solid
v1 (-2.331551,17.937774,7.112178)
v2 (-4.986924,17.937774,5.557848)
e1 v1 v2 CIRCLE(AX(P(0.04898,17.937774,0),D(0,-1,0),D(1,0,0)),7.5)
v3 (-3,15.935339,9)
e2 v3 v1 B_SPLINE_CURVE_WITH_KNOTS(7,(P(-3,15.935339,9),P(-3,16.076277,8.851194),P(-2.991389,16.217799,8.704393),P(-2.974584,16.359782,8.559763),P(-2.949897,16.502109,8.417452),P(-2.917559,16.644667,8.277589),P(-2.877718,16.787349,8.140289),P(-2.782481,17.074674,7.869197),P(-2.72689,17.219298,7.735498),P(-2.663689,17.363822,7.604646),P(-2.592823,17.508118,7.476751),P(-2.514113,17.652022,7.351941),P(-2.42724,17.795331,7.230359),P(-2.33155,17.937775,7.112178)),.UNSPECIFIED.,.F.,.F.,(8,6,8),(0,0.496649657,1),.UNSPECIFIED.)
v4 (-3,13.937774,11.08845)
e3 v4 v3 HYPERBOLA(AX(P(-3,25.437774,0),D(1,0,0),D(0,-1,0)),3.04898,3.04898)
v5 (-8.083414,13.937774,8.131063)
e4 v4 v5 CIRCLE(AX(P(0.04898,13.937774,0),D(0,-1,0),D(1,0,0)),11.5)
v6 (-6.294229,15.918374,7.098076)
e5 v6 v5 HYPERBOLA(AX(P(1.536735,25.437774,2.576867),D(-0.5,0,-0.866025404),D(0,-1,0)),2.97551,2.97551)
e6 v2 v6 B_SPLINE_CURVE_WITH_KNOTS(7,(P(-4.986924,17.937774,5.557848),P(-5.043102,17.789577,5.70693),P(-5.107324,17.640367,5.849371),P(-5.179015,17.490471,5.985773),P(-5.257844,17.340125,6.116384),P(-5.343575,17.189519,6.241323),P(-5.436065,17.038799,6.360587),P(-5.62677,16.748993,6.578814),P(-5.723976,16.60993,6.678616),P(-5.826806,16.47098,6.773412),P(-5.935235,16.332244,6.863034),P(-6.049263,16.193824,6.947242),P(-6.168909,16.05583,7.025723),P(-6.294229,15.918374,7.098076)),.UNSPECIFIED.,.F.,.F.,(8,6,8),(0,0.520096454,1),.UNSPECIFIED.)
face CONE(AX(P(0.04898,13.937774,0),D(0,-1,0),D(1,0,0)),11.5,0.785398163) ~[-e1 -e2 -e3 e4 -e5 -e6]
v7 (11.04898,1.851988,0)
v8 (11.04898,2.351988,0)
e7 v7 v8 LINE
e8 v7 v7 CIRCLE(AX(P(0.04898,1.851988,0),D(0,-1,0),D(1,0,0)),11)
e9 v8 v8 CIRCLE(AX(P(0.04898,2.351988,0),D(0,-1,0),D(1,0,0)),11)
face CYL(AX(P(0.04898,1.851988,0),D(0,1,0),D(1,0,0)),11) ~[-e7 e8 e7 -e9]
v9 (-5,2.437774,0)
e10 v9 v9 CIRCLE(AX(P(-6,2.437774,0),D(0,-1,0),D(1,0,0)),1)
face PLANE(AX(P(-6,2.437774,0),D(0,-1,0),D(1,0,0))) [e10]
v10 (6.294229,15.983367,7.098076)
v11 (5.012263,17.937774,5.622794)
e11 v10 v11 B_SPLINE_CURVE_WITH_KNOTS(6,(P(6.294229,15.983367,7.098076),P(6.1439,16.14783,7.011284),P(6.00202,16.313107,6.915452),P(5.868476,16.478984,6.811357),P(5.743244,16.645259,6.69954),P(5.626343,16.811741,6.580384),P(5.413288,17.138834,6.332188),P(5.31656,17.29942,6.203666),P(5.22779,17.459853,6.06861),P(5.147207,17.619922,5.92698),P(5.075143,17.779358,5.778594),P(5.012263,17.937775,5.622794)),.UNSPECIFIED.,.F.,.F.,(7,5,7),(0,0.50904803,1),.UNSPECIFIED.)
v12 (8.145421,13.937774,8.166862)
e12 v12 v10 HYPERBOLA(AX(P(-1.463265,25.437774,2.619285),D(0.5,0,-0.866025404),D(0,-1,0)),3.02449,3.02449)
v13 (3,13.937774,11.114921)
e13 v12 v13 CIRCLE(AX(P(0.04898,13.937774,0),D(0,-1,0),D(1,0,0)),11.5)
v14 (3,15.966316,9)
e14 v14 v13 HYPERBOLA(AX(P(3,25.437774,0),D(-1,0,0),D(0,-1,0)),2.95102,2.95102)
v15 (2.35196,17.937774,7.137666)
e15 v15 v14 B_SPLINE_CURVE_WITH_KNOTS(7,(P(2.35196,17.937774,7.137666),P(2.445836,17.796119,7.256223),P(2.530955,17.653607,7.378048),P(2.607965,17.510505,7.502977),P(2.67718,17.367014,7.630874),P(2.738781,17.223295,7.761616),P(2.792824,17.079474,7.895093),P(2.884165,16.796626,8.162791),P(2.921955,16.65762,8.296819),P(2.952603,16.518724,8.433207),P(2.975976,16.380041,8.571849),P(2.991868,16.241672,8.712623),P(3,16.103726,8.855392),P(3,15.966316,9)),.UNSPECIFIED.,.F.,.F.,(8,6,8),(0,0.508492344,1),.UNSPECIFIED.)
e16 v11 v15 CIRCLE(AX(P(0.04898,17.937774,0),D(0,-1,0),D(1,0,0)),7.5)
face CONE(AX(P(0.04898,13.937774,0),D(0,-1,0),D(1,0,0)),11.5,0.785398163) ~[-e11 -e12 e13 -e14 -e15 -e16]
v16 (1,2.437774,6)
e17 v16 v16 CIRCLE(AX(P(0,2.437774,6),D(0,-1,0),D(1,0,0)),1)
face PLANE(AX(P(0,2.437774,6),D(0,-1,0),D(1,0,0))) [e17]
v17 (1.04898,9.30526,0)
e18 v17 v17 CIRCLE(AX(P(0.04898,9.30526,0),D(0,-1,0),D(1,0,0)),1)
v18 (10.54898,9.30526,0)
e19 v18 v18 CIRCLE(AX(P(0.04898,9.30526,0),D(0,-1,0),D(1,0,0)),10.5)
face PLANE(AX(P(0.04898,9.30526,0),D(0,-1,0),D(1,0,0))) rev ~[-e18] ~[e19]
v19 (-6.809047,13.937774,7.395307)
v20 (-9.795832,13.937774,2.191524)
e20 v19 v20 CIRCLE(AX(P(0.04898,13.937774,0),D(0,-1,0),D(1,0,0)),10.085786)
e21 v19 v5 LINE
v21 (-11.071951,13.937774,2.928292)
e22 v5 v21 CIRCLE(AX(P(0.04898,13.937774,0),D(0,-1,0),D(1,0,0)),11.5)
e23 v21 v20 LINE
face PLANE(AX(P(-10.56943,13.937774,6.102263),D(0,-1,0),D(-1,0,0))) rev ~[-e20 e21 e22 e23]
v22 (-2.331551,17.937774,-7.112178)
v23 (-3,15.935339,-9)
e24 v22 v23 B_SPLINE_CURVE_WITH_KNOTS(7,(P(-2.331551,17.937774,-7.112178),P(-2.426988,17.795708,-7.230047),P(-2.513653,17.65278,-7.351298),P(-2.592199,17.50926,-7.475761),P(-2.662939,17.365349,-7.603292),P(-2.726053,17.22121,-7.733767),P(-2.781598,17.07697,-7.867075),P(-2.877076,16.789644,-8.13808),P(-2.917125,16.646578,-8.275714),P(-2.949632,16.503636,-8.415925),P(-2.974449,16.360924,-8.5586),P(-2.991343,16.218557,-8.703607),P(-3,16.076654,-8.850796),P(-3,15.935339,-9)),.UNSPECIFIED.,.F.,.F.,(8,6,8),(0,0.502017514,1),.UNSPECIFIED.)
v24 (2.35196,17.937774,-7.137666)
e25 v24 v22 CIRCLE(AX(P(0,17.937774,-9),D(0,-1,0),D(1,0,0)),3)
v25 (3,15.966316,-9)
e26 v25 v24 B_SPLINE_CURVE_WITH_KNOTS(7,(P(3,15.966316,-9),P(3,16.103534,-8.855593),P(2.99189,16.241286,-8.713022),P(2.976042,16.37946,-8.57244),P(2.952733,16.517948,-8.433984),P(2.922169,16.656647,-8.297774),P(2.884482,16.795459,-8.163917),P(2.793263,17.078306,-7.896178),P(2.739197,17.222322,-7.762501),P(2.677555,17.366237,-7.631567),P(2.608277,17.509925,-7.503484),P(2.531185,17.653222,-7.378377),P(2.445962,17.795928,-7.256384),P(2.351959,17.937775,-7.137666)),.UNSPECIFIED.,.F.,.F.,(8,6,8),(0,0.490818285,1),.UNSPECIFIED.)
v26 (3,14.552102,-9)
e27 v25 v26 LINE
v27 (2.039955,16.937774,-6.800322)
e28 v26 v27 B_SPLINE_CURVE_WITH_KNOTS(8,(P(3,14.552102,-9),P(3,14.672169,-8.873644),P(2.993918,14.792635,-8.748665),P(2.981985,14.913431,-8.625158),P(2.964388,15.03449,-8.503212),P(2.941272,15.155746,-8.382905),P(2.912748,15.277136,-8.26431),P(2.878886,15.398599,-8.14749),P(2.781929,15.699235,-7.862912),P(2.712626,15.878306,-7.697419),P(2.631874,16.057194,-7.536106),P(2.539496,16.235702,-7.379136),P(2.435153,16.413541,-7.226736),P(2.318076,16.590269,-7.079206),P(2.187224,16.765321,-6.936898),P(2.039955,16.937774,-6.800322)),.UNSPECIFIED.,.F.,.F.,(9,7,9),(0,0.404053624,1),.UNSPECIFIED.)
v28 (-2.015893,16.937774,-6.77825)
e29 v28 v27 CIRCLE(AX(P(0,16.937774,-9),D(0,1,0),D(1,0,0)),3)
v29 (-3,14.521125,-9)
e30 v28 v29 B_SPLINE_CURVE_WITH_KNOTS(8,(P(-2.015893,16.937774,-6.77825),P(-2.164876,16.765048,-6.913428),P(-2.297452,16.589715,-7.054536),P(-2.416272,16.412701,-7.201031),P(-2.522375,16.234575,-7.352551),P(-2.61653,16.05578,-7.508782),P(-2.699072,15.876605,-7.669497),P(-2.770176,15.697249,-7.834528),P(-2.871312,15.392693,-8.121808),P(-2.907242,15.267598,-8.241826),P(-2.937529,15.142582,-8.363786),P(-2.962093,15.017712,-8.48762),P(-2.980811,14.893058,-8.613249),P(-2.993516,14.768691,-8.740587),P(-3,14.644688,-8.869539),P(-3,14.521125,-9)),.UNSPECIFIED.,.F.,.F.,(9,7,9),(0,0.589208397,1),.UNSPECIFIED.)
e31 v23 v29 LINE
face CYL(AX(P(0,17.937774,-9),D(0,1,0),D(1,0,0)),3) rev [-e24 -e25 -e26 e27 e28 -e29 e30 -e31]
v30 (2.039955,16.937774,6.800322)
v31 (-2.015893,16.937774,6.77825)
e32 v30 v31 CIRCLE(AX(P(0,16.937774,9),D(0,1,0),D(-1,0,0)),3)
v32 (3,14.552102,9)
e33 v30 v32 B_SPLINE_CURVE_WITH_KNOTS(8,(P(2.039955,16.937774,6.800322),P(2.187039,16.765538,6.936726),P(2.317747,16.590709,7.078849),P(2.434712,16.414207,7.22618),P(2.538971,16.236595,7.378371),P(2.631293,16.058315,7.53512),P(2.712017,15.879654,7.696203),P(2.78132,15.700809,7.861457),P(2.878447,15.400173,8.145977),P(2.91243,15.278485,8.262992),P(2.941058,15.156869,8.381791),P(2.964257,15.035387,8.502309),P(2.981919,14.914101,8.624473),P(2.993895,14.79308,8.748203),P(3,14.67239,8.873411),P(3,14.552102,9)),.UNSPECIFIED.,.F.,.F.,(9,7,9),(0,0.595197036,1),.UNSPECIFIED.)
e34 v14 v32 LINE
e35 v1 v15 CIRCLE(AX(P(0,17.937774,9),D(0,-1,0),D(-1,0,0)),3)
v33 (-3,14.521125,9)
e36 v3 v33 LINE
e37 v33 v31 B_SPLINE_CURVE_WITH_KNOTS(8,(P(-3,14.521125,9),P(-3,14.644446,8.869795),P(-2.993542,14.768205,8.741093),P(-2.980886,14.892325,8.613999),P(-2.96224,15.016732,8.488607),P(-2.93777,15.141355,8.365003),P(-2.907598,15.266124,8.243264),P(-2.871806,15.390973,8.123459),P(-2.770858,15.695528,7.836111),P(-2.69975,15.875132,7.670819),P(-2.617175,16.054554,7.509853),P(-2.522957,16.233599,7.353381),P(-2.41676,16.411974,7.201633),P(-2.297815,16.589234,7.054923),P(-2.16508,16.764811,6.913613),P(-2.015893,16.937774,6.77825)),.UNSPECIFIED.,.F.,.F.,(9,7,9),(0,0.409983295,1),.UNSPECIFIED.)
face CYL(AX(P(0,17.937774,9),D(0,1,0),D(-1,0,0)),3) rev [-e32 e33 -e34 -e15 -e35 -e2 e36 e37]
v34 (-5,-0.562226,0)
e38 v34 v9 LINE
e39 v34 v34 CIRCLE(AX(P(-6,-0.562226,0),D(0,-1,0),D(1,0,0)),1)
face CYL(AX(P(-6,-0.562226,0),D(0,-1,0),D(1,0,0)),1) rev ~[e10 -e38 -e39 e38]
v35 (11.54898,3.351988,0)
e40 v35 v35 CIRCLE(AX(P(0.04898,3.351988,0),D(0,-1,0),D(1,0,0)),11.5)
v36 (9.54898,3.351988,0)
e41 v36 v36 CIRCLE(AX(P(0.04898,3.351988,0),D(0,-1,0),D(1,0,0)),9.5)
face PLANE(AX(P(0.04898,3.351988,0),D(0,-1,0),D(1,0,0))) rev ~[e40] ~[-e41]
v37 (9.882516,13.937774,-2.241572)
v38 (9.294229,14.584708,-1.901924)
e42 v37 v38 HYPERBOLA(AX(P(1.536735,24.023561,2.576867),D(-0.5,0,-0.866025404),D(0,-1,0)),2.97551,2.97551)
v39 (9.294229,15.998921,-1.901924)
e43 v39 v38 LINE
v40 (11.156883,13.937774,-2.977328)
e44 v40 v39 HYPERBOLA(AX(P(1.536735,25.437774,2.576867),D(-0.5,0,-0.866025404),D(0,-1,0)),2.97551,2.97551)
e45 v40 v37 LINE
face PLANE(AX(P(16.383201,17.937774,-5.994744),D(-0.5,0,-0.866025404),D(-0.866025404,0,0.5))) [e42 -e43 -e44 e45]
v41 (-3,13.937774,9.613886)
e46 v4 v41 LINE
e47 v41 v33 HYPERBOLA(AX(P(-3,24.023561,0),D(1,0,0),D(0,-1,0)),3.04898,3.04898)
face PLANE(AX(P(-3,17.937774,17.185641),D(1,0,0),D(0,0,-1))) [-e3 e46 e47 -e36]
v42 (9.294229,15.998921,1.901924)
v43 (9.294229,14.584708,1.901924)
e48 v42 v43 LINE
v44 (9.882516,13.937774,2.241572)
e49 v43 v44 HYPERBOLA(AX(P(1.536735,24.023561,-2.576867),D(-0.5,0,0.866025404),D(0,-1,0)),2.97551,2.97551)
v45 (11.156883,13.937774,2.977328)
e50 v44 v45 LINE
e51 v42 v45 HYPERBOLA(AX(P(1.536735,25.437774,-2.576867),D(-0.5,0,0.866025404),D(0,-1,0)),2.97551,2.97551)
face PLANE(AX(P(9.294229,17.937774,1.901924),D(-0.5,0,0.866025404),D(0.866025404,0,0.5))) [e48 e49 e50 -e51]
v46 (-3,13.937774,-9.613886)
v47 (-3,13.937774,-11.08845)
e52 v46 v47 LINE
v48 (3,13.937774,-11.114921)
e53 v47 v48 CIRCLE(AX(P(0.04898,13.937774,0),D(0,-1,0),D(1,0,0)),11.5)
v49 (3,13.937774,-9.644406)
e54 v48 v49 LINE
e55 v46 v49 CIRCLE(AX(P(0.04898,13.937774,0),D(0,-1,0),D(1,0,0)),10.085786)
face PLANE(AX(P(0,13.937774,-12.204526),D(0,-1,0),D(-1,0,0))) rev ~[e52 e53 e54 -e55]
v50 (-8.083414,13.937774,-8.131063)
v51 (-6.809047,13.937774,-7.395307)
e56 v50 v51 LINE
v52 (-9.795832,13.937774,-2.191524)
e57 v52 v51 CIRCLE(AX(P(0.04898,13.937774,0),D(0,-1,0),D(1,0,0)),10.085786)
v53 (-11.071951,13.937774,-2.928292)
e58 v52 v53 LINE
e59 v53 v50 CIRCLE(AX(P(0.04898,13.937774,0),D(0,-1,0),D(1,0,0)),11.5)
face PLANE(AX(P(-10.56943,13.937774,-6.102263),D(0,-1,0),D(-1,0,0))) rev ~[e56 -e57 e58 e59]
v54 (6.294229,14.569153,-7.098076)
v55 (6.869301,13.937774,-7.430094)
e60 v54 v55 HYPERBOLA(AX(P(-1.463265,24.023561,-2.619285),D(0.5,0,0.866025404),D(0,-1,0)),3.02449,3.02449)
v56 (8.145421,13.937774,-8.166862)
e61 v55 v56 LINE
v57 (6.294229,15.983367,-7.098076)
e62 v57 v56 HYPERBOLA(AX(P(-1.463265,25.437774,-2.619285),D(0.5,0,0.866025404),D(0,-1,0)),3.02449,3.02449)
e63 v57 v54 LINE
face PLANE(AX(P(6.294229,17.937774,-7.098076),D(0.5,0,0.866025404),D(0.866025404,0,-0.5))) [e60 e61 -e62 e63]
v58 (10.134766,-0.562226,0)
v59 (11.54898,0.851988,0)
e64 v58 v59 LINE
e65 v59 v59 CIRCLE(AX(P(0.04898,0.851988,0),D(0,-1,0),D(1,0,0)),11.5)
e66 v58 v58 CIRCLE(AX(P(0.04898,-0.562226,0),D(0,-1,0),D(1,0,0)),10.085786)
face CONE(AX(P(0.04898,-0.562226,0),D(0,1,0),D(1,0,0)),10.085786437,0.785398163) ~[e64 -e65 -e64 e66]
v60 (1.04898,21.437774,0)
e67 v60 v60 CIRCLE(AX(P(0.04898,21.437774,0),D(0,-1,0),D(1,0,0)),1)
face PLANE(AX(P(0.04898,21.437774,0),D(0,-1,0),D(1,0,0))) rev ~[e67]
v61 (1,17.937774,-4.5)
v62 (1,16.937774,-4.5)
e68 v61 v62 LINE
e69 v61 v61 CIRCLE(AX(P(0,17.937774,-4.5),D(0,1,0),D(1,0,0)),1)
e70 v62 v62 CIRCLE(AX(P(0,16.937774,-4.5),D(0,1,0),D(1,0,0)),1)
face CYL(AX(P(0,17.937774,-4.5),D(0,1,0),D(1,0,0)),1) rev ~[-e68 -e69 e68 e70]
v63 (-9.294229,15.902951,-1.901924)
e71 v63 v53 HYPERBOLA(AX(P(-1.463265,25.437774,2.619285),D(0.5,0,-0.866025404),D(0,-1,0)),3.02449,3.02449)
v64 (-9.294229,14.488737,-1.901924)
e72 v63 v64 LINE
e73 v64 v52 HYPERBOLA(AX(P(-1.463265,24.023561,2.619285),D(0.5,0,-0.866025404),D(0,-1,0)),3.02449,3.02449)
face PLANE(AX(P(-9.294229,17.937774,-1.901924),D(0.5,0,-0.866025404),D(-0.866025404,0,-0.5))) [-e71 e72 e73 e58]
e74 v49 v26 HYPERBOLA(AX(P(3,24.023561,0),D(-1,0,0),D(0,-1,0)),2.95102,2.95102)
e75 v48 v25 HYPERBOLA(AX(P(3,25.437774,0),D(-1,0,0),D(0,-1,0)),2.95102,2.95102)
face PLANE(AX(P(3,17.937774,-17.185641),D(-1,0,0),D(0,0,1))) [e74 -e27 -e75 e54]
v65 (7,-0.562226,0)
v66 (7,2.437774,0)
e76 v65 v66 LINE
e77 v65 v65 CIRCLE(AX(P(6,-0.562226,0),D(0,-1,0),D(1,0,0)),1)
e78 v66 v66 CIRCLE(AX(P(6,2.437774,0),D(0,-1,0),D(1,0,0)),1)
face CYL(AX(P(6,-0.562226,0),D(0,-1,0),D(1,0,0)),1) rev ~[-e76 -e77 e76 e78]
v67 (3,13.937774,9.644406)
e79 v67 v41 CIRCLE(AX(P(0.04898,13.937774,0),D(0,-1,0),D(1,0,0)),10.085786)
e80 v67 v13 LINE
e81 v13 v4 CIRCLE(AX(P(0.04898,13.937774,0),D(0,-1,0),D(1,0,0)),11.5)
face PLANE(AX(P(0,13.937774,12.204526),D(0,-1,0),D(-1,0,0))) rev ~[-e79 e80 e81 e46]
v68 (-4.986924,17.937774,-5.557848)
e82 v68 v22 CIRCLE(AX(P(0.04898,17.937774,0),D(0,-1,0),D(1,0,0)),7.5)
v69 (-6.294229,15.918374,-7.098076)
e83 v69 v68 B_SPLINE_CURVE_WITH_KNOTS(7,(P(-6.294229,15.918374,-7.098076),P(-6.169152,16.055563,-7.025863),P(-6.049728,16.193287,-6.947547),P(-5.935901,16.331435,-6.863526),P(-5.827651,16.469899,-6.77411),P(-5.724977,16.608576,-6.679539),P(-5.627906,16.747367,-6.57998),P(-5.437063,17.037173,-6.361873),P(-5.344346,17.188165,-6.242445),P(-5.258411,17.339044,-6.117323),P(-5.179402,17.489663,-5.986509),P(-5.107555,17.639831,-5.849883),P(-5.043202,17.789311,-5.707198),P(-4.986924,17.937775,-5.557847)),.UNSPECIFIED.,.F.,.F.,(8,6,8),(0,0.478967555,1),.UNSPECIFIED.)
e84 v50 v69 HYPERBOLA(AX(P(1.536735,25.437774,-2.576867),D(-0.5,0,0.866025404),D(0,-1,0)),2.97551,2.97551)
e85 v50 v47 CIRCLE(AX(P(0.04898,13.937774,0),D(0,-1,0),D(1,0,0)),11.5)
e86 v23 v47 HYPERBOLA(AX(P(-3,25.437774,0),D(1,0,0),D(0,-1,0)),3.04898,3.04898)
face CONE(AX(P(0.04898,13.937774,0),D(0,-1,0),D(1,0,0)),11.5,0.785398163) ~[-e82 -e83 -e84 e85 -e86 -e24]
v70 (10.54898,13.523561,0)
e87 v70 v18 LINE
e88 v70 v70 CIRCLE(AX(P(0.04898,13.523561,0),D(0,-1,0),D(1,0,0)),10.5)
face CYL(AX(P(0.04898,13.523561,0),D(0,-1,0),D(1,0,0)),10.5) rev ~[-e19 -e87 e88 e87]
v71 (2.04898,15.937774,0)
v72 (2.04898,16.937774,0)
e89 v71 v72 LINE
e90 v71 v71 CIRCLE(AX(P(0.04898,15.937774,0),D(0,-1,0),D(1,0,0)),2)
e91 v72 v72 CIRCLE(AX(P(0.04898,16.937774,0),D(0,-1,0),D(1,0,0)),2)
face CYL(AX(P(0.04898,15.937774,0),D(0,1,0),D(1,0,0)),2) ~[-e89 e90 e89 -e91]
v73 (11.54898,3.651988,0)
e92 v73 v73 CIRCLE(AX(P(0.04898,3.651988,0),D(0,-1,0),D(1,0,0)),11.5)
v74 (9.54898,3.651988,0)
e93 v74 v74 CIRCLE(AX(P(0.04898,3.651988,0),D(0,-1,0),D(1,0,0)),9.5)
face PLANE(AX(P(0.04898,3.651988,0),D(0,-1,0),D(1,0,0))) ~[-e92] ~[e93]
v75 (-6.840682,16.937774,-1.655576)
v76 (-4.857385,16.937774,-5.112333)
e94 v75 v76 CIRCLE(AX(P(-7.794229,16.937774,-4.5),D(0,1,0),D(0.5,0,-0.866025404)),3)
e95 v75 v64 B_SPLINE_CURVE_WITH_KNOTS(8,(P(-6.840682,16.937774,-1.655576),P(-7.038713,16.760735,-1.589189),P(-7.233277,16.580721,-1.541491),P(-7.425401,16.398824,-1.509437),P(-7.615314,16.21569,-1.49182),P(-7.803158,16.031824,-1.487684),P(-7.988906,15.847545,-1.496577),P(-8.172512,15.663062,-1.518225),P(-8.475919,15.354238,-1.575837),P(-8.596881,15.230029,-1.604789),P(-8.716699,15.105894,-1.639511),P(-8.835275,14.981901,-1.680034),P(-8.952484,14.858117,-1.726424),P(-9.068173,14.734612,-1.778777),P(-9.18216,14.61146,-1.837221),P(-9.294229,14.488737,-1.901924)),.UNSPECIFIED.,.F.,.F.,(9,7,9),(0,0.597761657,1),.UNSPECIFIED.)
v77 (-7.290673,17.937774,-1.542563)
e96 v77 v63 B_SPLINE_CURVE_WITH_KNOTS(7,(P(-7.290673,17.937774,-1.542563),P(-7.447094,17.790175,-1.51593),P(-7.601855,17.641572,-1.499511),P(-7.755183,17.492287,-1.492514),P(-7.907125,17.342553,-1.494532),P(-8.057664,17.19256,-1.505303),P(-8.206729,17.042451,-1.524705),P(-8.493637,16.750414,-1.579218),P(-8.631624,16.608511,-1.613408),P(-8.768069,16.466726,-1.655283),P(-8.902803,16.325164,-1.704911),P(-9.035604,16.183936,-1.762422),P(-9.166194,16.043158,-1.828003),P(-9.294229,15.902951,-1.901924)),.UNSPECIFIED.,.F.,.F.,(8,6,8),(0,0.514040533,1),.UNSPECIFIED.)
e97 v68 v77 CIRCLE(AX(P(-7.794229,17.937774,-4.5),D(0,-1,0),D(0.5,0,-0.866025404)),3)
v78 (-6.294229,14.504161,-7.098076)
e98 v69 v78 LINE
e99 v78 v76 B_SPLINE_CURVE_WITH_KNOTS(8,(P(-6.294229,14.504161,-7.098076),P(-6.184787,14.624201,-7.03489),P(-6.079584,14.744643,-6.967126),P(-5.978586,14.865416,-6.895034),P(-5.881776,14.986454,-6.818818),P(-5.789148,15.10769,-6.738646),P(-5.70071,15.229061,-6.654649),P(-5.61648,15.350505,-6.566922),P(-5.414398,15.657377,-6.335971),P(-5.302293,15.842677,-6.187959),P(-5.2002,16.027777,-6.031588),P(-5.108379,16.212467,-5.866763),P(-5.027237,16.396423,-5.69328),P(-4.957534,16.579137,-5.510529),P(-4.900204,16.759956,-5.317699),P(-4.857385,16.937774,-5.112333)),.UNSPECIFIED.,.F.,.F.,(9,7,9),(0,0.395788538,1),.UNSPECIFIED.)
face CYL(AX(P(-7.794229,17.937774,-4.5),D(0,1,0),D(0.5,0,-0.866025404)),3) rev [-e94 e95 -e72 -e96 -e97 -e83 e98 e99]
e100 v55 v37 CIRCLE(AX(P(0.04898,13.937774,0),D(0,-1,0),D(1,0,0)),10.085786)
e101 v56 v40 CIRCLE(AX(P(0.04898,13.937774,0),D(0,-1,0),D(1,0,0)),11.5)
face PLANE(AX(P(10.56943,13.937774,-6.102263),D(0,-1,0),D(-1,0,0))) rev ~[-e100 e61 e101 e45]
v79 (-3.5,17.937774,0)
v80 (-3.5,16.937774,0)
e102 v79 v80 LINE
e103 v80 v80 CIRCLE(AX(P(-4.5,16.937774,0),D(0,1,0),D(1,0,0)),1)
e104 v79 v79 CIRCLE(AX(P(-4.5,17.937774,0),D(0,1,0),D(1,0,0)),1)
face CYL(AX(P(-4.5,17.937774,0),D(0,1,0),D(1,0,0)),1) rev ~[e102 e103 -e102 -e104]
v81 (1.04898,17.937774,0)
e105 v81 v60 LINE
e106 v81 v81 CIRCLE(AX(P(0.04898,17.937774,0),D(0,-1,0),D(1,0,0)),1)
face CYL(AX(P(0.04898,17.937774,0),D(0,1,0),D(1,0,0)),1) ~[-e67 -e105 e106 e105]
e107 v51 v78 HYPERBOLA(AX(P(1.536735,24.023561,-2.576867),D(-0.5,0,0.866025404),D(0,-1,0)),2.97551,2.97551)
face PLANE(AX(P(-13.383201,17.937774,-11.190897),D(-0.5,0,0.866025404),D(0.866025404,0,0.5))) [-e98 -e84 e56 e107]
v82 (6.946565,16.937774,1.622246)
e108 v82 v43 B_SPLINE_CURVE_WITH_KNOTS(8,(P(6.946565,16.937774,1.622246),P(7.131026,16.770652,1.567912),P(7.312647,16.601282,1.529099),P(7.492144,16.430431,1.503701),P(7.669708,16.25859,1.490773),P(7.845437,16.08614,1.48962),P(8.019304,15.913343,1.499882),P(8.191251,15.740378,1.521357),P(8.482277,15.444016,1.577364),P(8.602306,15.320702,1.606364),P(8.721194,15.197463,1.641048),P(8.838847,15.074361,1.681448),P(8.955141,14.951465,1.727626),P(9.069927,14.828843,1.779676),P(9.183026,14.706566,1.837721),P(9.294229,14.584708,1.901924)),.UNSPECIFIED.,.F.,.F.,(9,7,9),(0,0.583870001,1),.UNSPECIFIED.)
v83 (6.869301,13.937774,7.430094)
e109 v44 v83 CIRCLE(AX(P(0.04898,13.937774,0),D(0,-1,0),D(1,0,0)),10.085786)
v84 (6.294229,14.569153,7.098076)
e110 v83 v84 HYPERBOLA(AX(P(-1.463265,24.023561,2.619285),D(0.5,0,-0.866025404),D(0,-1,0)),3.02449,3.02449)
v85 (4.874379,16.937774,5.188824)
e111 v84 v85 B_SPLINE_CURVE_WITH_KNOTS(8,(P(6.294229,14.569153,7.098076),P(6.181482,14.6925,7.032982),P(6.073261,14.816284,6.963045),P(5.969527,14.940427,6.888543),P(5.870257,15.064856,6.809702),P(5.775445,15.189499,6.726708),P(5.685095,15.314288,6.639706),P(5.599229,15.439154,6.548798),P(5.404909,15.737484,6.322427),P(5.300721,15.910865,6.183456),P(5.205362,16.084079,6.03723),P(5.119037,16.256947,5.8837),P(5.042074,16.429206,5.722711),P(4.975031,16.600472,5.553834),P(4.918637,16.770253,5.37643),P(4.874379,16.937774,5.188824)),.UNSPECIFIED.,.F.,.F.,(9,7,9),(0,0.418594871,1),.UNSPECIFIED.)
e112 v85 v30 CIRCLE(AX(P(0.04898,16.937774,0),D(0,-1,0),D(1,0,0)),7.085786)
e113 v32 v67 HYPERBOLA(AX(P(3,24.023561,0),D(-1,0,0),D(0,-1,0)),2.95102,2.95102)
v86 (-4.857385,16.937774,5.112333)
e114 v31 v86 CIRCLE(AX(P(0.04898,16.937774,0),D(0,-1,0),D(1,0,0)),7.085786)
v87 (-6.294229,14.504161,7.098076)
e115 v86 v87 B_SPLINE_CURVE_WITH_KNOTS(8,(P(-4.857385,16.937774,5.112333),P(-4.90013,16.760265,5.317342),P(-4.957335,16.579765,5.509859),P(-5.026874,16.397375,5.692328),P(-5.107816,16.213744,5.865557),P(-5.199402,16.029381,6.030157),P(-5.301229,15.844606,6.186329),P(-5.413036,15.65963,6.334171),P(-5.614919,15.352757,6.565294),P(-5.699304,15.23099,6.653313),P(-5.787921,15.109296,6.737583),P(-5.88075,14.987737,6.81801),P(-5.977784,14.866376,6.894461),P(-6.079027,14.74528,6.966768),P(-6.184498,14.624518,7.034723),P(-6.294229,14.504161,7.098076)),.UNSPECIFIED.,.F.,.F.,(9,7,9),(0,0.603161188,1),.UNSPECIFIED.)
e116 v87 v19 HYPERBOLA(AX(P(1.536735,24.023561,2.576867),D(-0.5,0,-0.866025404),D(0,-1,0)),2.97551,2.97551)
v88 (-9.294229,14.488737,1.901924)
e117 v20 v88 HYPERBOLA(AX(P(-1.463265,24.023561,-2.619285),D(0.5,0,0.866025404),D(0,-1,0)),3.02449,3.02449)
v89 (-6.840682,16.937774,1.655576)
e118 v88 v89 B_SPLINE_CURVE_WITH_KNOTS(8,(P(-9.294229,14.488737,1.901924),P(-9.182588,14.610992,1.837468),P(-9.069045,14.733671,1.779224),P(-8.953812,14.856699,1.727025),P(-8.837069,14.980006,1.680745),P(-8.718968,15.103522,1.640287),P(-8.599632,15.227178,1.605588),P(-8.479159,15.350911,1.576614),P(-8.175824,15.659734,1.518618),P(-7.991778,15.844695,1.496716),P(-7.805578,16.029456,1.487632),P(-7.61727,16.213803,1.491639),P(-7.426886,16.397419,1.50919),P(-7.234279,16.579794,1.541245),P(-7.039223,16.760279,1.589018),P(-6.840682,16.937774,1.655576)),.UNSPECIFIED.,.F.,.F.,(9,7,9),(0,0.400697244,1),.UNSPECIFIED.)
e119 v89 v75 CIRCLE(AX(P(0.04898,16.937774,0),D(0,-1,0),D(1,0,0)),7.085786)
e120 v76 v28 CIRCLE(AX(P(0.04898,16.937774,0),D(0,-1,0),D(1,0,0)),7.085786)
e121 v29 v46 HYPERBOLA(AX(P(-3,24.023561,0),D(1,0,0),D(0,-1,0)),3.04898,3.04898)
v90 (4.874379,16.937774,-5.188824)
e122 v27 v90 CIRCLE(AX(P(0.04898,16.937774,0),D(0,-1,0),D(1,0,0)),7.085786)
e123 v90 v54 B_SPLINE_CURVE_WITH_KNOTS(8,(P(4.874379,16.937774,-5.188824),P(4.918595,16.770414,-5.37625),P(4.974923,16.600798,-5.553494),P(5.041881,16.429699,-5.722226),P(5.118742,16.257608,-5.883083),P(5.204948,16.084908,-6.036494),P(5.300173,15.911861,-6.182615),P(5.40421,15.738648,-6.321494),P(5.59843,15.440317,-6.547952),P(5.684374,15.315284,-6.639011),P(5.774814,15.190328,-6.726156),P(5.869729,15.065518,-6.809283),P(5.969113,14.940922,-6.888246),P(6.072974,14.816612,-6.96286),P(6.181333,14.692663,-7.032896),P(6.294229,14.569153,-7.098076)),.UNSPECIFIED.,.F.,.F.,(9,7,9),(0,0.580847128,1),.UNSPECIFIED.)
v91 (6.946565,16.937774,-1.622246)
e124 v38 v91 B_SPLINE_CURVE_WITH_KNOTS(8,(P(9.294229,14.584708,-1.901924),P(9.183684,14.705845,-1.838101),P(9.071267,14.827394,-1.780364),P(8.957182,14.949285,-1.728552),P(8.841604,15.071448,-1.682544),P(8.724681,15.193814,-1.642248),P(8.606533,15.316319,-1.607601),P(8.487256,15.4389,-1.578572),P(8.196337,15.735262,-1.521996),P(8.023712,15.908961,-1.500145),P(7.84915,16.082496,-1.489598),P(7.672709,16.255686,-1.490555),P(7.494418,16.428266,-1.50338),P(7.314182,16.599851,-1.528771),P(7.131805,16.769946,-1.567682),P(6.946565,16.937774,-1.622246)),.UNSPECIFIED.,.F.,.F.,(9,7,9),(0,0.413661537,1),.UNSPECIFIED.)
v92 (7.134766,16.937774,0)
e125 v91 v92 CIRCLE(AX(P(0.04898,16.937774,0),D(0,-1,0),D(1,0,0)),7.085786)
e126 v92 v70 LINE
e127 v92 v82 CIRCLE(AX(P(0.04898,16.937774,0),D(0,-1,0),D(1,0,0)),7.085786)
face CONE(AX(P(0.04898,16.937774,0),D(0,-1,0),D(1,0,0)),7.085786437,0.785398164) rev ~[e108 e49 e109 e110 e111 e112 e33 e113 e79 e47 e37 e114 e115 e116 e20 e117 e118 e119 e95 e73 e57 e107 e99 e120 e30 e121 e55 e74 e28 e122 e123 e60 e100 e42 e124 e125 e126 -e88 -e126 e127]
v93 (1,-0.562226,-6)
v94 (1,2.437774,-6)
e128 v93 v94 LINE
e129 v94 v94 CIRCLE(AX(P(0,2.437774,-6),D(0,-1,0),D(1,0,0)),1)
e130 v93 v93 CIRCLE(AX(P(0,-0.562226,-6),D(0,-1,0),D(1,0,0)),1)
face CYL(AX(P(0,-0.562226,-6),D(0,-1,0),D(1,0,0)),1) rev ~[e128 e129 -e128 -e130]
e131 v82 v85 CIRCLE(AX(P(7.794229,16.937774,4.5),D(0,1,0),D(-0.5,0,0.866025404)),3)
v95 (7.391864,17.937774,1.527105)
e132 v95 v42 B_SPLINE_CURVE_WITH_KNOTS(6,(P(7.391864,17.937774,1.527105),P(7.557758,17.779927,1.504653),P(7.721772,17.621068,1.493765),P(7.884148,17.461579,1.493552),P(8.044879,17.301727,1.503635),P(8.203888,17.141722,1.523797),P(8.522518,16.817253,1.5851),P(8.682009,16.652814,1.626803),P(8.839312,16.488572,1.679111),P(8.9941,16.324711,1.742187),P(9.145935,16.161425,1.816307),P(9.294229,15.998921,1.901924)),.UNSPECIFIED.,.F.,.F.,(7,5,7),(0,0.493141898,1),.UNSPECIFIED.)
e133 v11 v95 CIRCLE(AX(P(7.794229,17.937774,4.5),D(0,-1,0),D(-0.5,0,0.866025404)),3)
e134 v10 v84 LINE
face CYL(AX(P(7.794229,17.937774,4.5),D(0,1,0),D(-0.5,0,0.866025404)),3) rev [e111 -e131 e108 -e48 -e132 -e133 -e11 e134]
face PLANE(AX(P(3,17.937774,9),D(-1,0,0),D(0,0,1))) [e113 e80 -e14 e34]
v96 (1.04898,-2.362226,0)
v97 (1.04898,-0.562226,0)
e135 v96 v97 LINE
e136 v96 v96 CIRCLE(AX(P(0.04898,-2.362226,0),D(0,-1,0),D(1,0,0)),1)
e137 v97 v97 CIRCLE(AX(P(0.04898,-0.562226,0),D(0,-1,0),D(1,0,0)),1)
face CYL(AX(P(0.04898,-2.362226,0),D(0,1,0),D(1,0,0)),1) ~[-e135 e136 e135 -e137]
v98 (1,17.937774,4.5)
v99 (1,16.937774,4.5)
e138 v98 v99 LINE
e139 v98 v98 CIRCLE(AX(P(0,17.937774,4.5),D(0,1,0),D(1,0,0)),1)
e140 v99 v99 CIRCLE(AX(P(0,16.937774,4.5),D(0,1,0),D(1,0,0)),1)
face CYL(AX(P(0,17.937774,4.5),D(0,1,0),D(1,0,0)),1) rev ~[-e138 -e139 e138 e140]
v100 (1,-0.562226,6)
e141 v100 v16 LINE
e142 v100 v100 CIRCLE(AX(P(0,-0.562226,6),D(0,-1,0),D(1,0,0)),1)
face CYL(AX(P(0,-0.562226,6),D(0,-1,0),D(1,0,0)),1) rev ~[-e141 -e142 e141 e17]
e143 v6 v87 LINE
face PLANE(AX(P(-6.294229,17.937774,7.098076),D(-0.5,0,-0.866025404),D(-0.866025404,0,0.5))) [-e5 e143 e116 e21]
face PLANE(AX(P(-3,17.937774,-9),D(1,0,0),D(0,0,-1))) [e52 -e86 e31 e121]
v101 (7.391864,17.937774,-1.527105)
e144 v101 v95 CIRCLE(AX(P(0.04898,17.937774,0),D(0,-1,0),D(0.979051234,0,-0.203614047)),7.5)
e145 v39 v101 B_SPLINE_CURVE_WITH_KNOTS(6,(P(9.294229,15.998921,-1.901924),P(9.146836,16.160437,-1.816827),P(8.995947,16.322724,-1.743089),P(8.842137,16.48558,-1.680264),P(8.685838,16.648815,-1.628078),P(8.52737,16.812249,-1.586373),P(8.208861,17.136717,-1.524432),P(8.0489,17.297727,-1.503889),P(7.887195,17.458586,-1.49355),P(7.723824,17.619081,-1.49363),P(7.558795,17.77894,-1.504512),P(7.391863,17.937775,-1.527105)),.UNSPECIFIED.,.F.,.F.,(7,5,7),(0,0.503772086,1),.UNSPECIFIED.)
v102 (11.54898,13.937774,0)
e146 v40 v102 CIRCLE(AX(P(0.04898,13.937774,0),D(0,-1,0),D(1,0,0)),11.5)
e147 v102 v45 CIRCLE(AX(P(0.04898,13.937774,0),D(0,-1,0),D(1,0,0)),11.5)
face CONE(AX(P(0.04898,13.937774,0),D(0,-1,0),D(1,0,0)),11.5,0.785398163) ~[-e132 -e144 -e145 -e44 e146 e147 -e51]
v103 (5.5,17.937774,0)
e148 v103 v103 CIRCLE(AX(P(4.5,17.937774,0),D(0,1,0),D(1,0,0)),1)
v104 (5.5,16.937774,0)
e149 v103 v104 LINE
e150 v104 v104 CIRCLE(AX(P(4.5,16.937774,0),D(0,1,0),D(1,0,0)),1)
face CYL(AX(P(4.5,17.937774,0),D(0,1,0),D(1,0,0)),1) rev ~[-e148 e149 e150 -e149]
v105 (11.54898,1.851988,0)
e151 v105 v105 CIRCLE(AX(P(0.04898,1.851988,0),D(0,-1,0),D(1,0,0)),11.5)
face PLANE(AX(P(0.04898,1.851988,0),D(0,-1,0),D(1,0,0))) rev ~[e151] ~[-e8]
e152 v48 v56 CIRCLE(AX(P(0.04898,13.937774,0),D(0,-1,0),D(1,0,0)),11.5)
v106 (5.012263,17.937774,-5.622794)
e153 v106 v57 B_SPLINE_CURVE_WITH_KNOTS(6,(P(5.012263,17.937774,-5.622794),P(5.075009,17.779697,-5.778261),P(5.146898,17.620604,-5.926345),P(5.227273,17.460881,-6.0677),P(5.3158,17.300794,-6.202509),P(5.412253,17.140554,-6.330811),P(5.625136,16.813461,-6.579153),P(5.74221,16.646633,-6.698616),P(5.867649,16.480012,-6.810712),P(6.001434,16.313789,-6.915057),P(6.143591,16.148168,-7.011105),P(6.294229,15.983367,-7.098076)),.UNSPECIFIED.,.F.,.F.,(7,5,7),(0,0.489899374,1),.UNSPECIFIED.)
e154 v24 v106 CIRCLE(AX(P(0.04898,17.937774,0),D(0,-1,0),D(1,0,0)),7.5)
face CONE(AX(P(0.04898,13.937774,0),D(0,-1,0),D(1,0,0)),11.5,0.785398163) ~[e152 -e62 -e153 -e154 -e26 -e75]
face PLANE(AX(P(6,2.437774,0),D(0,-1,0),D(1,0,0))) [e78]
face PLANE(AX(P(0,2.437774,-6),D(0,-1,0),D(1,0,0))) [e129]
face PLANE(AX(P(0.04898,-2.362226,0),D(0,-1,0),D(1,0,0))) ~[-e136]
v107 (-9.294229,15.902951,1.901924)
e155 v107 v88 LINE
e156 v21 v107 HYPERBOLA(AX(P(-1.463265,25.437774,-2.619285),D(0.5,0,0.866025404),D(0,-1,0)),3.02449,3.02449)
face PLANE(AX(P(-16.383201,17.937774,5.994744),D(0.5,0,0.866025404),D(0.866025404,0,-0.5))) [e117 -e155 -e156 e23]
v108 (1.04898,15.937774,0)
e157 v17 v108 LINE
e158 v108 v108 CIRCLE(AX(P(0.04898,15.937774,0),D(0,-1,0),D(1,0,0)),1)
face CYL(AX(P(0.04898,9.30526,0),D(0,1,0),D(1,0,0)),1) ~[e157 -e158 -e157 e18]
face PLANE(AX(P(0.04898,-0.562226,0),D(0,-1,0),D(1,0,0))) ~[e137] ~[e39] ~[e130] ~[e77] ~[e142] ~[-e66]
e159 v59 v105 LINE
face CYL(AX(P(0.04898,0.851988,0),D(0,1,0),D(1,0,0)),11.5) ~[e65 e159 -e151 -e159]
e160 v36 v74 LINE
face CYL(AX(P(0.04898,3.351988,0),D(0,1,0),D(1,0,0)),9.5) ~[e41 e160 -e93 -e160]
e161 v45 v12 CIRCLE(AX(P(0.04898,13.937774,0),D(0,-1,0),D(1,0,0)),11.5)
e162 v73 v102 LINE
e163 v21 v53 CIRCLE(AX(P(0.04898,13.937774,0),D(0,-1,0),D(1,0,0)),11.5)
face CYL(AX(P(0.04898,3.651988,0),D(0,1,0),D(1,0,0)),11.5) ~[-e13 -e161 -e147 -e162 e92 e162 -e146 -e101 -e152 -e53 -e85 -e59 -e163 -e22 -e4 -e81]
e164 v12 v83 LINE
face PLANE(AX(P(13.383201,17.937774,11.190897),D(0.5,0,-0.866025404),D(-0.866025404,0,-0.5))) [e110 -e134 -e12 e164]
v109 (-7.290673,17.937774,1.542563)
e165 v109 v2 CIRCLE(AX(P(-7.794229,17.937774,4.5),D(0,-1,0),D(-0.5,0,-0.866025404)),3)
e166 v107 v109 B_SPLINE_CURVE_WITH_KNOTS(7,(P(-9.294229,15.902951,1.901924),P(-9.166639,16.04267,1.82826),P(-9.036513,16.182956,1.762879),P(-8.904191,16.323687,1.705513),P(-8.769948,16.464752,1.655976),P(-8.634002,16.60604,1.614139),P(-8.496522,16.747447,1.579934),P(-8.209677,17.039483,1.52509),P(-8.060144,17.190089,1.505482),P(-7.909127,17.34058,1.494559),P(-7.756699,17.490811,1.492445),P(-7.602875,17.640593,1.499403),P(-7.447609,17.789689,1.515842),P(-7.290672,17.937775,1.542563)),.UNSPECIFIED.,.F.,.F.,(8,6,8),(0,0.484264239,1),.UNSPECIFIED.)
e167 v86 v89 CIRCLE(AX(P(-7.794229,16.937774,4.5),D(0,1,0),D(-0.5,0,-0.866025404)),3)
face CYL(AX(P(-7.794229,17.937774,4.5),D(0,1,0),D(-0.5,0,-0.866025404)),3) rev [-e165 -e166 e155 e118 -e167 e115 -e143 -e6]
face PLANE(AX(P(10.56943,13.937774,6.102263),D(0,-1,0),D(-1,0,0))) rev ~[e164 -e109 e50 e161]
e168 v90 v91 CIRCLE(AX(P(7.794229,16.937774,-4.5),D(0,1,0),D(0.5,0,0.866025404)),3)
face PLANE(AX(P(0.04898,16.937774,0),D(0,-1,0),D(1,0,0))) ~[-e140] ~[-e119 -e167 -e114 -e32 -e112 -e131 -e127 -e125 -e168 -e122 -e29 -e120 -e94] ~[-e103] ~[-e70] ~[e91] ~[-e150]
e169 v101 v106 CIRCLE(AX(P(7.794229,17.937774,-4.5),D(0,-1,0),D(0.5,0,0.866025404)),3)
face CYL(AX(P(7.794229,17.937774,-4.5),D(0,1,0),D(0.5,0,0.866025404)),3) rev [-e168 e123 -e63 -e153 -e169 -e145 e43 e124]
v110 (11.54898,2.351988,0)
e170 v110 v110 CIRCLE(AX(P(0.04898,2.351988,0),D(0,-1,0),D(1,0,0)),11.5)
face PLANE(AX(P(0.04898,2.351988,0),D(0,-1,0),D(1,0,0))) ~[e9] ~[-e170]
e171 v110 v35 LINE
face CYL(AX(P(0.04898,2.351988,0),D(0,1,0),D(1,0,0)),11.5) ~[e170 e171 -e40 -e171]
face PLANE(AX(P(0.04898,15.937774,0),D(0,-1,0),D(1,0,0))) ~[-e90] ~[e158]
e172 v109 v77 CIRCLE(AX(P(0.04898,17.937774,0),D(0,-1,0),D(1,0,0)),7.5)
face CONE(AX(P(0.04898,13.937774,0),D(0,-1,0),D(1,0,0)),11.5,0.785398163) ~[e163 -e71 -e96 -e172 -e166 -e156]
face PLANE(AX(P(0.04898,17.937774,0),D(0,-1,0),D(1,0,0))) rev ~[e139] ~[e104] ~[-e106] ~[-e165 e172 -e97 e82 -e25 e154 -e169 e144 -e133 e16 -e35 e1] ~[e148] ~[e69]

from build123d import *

# Parameters (mm, degrees)
SKETCH2_R          = 1
CUT_EXTRUDE1_DEPTH = 4
SKETCH3_R          = 1
CUT_EXTRUDE2_DEPTH = 3


with BuildPart() as part:
    # Sketch1 → Revolve1 (revolve)
    with BuildSketch(Plane.XY):
        Polygon((0.048979582, -2.362225903), (1.048979582, -2.362225903), (1.048979582, -0.562225903), (10.134766019, -0.562225903), (11.548979582, 0.85198766), (11.548979582, 1.85198766), (11.048979582, 1.85198766), (11.048979582, 2.35198766), (11.548979582, 2.35198766), (11.548979582, 3.35198766), (9.548979582, 3.35198766), (9.548979582, 3.65198766), (11.548979582, 3.65198766), (11.548979582, 13.937774097), (7.548979582, 17.937774097), (1.048979582, 17.937774097), (1.048979582, 21.437774097), (0.048979582, 21.437774097), align=None)
        Polygon((2.048979582, 16.937774097), (7.134766019, 16.937774097), (10.548979582, 13.523560535), (10.548979582, 9.305259573), (1.048979582, 9.305259573), (1.048979582, 15.937774097), (2.048979582, 15.937774097), align=None, mode=Mode.SUBTRACT)
    revolve(axis=Axis((0.048979582, 21.437774097, 0), (0, -1, 0)))

    # Sketch2 → Cut-Extrude1 (cut)
    with BuildSketch(Plane(origin=(0, 17.937774097, 0), x_dir=(1, 0, 0), z_dir=(0, 1, 0))):
        with Locations((0, 4.5)):
            Circle(SKETCH2_R)
        with Locations((4.5, 0)):
            Circle(SKETCH2_R)
        with Locations((0, -4.5)):
            Circle(SKETCH2_R)
        with Locations((-4.5, 0)):
            Circle(SKETCH2_R)
        with BuildLine():
            Line((-3, 9), (-3, 17.185640614))
            Line((-3, 17.185640614), (3, 17.185640614))
            Line((3, 17.185640614), (3, 9))
            ThreePointArc((3, 9), (0, 6), (-3, 9))
        make_face()
        with BuildLine():
            Line((16.383201352, 5.994744096), (9.294228634, 1.901923789))
            ThreePointArc((9.294228634, 1.901923789), (5.196152423, 3), (6.294228634, 7.098076211))
            Line((6.294228634, 7.098076211), (13.383201352, 11.190896518))
            Line((13.383201352, 11.190896518), (16.383201352, 5.994744096))
        make_face()
        with BuildLine():
            Line((13.383201352, -11.190896518), (6.294228634, -7.098076211))
            ThreePointArc((6.294228634, -7.098076211), (5.196152423, -3), (9.294228634, -1.901923789))
            Line((9.294228634, -1.901923789), (16.383201352, -5.994744096))
            Line((16.383201352, -5.994744096), (13.383201352, -11.190896518))
        make_face()
        with BuildLine():
            Line((-3, -17.185640614), (-3, -9))
            ThreePointArc((-3, -9), (0, -6), (3, -9))
            Line((3, -9), (3, -17.185640614))
            Line((3, -17.185640614), (-3, -17.185640614))
        make_face()
        with BuildLine():
            Line((-16.383201352, -5.994744096), (-9.294228634, -1.901923789))
            ThreePointArc((-9.294228634, -1.901923789), (-5.196152423, -3), (-6.294228634, -7.098076211))
            Line((-6.294228634, -7.098076211), (-13.383201352, -11.190896518))
            Line((-13.383201352, -11.190896518), (-16.383201352, -5.994744096))
        make_face()
        with BuildLine():
            Line((-13.383201352, 11.190896518), (-6.294228634, 7.098076211))
            ThreePointArc((-6.294228634, 7.098076211), (-5.196152423, 3), (-9.294228634, 1.901923789))
            Line((-9.294228634, 1.901923789), (-16.383201352, 5.994744096))
            Line((-16.383201352, 5.994744096), (-13.383201352, 11.190896518))
        make_face()
    extrude(amount=-CUT_EXTRUDE1_DEPTH, mode=Mode.SUBTRACT)

    # Sketch3 → Cut-Extrude2 (cut)
    with BuildSketch(Plane.XZ.offset(0.562225903)):
        with Locations((0, 6)):
            Circle(SKETCH3_R)
        with Locations((6, 0)):
            Circle(SKETCH3_R)
        with Locations((0, -6)):
            Circle(SKETCH3_R)
        with Locations((-6, 0)):
            Circle(SKETCH3_R)
    extrude(amount=-CUT_EXTRUDE2_DEPTH, mode=Mode.SUBTRACT)


solid = part.part
